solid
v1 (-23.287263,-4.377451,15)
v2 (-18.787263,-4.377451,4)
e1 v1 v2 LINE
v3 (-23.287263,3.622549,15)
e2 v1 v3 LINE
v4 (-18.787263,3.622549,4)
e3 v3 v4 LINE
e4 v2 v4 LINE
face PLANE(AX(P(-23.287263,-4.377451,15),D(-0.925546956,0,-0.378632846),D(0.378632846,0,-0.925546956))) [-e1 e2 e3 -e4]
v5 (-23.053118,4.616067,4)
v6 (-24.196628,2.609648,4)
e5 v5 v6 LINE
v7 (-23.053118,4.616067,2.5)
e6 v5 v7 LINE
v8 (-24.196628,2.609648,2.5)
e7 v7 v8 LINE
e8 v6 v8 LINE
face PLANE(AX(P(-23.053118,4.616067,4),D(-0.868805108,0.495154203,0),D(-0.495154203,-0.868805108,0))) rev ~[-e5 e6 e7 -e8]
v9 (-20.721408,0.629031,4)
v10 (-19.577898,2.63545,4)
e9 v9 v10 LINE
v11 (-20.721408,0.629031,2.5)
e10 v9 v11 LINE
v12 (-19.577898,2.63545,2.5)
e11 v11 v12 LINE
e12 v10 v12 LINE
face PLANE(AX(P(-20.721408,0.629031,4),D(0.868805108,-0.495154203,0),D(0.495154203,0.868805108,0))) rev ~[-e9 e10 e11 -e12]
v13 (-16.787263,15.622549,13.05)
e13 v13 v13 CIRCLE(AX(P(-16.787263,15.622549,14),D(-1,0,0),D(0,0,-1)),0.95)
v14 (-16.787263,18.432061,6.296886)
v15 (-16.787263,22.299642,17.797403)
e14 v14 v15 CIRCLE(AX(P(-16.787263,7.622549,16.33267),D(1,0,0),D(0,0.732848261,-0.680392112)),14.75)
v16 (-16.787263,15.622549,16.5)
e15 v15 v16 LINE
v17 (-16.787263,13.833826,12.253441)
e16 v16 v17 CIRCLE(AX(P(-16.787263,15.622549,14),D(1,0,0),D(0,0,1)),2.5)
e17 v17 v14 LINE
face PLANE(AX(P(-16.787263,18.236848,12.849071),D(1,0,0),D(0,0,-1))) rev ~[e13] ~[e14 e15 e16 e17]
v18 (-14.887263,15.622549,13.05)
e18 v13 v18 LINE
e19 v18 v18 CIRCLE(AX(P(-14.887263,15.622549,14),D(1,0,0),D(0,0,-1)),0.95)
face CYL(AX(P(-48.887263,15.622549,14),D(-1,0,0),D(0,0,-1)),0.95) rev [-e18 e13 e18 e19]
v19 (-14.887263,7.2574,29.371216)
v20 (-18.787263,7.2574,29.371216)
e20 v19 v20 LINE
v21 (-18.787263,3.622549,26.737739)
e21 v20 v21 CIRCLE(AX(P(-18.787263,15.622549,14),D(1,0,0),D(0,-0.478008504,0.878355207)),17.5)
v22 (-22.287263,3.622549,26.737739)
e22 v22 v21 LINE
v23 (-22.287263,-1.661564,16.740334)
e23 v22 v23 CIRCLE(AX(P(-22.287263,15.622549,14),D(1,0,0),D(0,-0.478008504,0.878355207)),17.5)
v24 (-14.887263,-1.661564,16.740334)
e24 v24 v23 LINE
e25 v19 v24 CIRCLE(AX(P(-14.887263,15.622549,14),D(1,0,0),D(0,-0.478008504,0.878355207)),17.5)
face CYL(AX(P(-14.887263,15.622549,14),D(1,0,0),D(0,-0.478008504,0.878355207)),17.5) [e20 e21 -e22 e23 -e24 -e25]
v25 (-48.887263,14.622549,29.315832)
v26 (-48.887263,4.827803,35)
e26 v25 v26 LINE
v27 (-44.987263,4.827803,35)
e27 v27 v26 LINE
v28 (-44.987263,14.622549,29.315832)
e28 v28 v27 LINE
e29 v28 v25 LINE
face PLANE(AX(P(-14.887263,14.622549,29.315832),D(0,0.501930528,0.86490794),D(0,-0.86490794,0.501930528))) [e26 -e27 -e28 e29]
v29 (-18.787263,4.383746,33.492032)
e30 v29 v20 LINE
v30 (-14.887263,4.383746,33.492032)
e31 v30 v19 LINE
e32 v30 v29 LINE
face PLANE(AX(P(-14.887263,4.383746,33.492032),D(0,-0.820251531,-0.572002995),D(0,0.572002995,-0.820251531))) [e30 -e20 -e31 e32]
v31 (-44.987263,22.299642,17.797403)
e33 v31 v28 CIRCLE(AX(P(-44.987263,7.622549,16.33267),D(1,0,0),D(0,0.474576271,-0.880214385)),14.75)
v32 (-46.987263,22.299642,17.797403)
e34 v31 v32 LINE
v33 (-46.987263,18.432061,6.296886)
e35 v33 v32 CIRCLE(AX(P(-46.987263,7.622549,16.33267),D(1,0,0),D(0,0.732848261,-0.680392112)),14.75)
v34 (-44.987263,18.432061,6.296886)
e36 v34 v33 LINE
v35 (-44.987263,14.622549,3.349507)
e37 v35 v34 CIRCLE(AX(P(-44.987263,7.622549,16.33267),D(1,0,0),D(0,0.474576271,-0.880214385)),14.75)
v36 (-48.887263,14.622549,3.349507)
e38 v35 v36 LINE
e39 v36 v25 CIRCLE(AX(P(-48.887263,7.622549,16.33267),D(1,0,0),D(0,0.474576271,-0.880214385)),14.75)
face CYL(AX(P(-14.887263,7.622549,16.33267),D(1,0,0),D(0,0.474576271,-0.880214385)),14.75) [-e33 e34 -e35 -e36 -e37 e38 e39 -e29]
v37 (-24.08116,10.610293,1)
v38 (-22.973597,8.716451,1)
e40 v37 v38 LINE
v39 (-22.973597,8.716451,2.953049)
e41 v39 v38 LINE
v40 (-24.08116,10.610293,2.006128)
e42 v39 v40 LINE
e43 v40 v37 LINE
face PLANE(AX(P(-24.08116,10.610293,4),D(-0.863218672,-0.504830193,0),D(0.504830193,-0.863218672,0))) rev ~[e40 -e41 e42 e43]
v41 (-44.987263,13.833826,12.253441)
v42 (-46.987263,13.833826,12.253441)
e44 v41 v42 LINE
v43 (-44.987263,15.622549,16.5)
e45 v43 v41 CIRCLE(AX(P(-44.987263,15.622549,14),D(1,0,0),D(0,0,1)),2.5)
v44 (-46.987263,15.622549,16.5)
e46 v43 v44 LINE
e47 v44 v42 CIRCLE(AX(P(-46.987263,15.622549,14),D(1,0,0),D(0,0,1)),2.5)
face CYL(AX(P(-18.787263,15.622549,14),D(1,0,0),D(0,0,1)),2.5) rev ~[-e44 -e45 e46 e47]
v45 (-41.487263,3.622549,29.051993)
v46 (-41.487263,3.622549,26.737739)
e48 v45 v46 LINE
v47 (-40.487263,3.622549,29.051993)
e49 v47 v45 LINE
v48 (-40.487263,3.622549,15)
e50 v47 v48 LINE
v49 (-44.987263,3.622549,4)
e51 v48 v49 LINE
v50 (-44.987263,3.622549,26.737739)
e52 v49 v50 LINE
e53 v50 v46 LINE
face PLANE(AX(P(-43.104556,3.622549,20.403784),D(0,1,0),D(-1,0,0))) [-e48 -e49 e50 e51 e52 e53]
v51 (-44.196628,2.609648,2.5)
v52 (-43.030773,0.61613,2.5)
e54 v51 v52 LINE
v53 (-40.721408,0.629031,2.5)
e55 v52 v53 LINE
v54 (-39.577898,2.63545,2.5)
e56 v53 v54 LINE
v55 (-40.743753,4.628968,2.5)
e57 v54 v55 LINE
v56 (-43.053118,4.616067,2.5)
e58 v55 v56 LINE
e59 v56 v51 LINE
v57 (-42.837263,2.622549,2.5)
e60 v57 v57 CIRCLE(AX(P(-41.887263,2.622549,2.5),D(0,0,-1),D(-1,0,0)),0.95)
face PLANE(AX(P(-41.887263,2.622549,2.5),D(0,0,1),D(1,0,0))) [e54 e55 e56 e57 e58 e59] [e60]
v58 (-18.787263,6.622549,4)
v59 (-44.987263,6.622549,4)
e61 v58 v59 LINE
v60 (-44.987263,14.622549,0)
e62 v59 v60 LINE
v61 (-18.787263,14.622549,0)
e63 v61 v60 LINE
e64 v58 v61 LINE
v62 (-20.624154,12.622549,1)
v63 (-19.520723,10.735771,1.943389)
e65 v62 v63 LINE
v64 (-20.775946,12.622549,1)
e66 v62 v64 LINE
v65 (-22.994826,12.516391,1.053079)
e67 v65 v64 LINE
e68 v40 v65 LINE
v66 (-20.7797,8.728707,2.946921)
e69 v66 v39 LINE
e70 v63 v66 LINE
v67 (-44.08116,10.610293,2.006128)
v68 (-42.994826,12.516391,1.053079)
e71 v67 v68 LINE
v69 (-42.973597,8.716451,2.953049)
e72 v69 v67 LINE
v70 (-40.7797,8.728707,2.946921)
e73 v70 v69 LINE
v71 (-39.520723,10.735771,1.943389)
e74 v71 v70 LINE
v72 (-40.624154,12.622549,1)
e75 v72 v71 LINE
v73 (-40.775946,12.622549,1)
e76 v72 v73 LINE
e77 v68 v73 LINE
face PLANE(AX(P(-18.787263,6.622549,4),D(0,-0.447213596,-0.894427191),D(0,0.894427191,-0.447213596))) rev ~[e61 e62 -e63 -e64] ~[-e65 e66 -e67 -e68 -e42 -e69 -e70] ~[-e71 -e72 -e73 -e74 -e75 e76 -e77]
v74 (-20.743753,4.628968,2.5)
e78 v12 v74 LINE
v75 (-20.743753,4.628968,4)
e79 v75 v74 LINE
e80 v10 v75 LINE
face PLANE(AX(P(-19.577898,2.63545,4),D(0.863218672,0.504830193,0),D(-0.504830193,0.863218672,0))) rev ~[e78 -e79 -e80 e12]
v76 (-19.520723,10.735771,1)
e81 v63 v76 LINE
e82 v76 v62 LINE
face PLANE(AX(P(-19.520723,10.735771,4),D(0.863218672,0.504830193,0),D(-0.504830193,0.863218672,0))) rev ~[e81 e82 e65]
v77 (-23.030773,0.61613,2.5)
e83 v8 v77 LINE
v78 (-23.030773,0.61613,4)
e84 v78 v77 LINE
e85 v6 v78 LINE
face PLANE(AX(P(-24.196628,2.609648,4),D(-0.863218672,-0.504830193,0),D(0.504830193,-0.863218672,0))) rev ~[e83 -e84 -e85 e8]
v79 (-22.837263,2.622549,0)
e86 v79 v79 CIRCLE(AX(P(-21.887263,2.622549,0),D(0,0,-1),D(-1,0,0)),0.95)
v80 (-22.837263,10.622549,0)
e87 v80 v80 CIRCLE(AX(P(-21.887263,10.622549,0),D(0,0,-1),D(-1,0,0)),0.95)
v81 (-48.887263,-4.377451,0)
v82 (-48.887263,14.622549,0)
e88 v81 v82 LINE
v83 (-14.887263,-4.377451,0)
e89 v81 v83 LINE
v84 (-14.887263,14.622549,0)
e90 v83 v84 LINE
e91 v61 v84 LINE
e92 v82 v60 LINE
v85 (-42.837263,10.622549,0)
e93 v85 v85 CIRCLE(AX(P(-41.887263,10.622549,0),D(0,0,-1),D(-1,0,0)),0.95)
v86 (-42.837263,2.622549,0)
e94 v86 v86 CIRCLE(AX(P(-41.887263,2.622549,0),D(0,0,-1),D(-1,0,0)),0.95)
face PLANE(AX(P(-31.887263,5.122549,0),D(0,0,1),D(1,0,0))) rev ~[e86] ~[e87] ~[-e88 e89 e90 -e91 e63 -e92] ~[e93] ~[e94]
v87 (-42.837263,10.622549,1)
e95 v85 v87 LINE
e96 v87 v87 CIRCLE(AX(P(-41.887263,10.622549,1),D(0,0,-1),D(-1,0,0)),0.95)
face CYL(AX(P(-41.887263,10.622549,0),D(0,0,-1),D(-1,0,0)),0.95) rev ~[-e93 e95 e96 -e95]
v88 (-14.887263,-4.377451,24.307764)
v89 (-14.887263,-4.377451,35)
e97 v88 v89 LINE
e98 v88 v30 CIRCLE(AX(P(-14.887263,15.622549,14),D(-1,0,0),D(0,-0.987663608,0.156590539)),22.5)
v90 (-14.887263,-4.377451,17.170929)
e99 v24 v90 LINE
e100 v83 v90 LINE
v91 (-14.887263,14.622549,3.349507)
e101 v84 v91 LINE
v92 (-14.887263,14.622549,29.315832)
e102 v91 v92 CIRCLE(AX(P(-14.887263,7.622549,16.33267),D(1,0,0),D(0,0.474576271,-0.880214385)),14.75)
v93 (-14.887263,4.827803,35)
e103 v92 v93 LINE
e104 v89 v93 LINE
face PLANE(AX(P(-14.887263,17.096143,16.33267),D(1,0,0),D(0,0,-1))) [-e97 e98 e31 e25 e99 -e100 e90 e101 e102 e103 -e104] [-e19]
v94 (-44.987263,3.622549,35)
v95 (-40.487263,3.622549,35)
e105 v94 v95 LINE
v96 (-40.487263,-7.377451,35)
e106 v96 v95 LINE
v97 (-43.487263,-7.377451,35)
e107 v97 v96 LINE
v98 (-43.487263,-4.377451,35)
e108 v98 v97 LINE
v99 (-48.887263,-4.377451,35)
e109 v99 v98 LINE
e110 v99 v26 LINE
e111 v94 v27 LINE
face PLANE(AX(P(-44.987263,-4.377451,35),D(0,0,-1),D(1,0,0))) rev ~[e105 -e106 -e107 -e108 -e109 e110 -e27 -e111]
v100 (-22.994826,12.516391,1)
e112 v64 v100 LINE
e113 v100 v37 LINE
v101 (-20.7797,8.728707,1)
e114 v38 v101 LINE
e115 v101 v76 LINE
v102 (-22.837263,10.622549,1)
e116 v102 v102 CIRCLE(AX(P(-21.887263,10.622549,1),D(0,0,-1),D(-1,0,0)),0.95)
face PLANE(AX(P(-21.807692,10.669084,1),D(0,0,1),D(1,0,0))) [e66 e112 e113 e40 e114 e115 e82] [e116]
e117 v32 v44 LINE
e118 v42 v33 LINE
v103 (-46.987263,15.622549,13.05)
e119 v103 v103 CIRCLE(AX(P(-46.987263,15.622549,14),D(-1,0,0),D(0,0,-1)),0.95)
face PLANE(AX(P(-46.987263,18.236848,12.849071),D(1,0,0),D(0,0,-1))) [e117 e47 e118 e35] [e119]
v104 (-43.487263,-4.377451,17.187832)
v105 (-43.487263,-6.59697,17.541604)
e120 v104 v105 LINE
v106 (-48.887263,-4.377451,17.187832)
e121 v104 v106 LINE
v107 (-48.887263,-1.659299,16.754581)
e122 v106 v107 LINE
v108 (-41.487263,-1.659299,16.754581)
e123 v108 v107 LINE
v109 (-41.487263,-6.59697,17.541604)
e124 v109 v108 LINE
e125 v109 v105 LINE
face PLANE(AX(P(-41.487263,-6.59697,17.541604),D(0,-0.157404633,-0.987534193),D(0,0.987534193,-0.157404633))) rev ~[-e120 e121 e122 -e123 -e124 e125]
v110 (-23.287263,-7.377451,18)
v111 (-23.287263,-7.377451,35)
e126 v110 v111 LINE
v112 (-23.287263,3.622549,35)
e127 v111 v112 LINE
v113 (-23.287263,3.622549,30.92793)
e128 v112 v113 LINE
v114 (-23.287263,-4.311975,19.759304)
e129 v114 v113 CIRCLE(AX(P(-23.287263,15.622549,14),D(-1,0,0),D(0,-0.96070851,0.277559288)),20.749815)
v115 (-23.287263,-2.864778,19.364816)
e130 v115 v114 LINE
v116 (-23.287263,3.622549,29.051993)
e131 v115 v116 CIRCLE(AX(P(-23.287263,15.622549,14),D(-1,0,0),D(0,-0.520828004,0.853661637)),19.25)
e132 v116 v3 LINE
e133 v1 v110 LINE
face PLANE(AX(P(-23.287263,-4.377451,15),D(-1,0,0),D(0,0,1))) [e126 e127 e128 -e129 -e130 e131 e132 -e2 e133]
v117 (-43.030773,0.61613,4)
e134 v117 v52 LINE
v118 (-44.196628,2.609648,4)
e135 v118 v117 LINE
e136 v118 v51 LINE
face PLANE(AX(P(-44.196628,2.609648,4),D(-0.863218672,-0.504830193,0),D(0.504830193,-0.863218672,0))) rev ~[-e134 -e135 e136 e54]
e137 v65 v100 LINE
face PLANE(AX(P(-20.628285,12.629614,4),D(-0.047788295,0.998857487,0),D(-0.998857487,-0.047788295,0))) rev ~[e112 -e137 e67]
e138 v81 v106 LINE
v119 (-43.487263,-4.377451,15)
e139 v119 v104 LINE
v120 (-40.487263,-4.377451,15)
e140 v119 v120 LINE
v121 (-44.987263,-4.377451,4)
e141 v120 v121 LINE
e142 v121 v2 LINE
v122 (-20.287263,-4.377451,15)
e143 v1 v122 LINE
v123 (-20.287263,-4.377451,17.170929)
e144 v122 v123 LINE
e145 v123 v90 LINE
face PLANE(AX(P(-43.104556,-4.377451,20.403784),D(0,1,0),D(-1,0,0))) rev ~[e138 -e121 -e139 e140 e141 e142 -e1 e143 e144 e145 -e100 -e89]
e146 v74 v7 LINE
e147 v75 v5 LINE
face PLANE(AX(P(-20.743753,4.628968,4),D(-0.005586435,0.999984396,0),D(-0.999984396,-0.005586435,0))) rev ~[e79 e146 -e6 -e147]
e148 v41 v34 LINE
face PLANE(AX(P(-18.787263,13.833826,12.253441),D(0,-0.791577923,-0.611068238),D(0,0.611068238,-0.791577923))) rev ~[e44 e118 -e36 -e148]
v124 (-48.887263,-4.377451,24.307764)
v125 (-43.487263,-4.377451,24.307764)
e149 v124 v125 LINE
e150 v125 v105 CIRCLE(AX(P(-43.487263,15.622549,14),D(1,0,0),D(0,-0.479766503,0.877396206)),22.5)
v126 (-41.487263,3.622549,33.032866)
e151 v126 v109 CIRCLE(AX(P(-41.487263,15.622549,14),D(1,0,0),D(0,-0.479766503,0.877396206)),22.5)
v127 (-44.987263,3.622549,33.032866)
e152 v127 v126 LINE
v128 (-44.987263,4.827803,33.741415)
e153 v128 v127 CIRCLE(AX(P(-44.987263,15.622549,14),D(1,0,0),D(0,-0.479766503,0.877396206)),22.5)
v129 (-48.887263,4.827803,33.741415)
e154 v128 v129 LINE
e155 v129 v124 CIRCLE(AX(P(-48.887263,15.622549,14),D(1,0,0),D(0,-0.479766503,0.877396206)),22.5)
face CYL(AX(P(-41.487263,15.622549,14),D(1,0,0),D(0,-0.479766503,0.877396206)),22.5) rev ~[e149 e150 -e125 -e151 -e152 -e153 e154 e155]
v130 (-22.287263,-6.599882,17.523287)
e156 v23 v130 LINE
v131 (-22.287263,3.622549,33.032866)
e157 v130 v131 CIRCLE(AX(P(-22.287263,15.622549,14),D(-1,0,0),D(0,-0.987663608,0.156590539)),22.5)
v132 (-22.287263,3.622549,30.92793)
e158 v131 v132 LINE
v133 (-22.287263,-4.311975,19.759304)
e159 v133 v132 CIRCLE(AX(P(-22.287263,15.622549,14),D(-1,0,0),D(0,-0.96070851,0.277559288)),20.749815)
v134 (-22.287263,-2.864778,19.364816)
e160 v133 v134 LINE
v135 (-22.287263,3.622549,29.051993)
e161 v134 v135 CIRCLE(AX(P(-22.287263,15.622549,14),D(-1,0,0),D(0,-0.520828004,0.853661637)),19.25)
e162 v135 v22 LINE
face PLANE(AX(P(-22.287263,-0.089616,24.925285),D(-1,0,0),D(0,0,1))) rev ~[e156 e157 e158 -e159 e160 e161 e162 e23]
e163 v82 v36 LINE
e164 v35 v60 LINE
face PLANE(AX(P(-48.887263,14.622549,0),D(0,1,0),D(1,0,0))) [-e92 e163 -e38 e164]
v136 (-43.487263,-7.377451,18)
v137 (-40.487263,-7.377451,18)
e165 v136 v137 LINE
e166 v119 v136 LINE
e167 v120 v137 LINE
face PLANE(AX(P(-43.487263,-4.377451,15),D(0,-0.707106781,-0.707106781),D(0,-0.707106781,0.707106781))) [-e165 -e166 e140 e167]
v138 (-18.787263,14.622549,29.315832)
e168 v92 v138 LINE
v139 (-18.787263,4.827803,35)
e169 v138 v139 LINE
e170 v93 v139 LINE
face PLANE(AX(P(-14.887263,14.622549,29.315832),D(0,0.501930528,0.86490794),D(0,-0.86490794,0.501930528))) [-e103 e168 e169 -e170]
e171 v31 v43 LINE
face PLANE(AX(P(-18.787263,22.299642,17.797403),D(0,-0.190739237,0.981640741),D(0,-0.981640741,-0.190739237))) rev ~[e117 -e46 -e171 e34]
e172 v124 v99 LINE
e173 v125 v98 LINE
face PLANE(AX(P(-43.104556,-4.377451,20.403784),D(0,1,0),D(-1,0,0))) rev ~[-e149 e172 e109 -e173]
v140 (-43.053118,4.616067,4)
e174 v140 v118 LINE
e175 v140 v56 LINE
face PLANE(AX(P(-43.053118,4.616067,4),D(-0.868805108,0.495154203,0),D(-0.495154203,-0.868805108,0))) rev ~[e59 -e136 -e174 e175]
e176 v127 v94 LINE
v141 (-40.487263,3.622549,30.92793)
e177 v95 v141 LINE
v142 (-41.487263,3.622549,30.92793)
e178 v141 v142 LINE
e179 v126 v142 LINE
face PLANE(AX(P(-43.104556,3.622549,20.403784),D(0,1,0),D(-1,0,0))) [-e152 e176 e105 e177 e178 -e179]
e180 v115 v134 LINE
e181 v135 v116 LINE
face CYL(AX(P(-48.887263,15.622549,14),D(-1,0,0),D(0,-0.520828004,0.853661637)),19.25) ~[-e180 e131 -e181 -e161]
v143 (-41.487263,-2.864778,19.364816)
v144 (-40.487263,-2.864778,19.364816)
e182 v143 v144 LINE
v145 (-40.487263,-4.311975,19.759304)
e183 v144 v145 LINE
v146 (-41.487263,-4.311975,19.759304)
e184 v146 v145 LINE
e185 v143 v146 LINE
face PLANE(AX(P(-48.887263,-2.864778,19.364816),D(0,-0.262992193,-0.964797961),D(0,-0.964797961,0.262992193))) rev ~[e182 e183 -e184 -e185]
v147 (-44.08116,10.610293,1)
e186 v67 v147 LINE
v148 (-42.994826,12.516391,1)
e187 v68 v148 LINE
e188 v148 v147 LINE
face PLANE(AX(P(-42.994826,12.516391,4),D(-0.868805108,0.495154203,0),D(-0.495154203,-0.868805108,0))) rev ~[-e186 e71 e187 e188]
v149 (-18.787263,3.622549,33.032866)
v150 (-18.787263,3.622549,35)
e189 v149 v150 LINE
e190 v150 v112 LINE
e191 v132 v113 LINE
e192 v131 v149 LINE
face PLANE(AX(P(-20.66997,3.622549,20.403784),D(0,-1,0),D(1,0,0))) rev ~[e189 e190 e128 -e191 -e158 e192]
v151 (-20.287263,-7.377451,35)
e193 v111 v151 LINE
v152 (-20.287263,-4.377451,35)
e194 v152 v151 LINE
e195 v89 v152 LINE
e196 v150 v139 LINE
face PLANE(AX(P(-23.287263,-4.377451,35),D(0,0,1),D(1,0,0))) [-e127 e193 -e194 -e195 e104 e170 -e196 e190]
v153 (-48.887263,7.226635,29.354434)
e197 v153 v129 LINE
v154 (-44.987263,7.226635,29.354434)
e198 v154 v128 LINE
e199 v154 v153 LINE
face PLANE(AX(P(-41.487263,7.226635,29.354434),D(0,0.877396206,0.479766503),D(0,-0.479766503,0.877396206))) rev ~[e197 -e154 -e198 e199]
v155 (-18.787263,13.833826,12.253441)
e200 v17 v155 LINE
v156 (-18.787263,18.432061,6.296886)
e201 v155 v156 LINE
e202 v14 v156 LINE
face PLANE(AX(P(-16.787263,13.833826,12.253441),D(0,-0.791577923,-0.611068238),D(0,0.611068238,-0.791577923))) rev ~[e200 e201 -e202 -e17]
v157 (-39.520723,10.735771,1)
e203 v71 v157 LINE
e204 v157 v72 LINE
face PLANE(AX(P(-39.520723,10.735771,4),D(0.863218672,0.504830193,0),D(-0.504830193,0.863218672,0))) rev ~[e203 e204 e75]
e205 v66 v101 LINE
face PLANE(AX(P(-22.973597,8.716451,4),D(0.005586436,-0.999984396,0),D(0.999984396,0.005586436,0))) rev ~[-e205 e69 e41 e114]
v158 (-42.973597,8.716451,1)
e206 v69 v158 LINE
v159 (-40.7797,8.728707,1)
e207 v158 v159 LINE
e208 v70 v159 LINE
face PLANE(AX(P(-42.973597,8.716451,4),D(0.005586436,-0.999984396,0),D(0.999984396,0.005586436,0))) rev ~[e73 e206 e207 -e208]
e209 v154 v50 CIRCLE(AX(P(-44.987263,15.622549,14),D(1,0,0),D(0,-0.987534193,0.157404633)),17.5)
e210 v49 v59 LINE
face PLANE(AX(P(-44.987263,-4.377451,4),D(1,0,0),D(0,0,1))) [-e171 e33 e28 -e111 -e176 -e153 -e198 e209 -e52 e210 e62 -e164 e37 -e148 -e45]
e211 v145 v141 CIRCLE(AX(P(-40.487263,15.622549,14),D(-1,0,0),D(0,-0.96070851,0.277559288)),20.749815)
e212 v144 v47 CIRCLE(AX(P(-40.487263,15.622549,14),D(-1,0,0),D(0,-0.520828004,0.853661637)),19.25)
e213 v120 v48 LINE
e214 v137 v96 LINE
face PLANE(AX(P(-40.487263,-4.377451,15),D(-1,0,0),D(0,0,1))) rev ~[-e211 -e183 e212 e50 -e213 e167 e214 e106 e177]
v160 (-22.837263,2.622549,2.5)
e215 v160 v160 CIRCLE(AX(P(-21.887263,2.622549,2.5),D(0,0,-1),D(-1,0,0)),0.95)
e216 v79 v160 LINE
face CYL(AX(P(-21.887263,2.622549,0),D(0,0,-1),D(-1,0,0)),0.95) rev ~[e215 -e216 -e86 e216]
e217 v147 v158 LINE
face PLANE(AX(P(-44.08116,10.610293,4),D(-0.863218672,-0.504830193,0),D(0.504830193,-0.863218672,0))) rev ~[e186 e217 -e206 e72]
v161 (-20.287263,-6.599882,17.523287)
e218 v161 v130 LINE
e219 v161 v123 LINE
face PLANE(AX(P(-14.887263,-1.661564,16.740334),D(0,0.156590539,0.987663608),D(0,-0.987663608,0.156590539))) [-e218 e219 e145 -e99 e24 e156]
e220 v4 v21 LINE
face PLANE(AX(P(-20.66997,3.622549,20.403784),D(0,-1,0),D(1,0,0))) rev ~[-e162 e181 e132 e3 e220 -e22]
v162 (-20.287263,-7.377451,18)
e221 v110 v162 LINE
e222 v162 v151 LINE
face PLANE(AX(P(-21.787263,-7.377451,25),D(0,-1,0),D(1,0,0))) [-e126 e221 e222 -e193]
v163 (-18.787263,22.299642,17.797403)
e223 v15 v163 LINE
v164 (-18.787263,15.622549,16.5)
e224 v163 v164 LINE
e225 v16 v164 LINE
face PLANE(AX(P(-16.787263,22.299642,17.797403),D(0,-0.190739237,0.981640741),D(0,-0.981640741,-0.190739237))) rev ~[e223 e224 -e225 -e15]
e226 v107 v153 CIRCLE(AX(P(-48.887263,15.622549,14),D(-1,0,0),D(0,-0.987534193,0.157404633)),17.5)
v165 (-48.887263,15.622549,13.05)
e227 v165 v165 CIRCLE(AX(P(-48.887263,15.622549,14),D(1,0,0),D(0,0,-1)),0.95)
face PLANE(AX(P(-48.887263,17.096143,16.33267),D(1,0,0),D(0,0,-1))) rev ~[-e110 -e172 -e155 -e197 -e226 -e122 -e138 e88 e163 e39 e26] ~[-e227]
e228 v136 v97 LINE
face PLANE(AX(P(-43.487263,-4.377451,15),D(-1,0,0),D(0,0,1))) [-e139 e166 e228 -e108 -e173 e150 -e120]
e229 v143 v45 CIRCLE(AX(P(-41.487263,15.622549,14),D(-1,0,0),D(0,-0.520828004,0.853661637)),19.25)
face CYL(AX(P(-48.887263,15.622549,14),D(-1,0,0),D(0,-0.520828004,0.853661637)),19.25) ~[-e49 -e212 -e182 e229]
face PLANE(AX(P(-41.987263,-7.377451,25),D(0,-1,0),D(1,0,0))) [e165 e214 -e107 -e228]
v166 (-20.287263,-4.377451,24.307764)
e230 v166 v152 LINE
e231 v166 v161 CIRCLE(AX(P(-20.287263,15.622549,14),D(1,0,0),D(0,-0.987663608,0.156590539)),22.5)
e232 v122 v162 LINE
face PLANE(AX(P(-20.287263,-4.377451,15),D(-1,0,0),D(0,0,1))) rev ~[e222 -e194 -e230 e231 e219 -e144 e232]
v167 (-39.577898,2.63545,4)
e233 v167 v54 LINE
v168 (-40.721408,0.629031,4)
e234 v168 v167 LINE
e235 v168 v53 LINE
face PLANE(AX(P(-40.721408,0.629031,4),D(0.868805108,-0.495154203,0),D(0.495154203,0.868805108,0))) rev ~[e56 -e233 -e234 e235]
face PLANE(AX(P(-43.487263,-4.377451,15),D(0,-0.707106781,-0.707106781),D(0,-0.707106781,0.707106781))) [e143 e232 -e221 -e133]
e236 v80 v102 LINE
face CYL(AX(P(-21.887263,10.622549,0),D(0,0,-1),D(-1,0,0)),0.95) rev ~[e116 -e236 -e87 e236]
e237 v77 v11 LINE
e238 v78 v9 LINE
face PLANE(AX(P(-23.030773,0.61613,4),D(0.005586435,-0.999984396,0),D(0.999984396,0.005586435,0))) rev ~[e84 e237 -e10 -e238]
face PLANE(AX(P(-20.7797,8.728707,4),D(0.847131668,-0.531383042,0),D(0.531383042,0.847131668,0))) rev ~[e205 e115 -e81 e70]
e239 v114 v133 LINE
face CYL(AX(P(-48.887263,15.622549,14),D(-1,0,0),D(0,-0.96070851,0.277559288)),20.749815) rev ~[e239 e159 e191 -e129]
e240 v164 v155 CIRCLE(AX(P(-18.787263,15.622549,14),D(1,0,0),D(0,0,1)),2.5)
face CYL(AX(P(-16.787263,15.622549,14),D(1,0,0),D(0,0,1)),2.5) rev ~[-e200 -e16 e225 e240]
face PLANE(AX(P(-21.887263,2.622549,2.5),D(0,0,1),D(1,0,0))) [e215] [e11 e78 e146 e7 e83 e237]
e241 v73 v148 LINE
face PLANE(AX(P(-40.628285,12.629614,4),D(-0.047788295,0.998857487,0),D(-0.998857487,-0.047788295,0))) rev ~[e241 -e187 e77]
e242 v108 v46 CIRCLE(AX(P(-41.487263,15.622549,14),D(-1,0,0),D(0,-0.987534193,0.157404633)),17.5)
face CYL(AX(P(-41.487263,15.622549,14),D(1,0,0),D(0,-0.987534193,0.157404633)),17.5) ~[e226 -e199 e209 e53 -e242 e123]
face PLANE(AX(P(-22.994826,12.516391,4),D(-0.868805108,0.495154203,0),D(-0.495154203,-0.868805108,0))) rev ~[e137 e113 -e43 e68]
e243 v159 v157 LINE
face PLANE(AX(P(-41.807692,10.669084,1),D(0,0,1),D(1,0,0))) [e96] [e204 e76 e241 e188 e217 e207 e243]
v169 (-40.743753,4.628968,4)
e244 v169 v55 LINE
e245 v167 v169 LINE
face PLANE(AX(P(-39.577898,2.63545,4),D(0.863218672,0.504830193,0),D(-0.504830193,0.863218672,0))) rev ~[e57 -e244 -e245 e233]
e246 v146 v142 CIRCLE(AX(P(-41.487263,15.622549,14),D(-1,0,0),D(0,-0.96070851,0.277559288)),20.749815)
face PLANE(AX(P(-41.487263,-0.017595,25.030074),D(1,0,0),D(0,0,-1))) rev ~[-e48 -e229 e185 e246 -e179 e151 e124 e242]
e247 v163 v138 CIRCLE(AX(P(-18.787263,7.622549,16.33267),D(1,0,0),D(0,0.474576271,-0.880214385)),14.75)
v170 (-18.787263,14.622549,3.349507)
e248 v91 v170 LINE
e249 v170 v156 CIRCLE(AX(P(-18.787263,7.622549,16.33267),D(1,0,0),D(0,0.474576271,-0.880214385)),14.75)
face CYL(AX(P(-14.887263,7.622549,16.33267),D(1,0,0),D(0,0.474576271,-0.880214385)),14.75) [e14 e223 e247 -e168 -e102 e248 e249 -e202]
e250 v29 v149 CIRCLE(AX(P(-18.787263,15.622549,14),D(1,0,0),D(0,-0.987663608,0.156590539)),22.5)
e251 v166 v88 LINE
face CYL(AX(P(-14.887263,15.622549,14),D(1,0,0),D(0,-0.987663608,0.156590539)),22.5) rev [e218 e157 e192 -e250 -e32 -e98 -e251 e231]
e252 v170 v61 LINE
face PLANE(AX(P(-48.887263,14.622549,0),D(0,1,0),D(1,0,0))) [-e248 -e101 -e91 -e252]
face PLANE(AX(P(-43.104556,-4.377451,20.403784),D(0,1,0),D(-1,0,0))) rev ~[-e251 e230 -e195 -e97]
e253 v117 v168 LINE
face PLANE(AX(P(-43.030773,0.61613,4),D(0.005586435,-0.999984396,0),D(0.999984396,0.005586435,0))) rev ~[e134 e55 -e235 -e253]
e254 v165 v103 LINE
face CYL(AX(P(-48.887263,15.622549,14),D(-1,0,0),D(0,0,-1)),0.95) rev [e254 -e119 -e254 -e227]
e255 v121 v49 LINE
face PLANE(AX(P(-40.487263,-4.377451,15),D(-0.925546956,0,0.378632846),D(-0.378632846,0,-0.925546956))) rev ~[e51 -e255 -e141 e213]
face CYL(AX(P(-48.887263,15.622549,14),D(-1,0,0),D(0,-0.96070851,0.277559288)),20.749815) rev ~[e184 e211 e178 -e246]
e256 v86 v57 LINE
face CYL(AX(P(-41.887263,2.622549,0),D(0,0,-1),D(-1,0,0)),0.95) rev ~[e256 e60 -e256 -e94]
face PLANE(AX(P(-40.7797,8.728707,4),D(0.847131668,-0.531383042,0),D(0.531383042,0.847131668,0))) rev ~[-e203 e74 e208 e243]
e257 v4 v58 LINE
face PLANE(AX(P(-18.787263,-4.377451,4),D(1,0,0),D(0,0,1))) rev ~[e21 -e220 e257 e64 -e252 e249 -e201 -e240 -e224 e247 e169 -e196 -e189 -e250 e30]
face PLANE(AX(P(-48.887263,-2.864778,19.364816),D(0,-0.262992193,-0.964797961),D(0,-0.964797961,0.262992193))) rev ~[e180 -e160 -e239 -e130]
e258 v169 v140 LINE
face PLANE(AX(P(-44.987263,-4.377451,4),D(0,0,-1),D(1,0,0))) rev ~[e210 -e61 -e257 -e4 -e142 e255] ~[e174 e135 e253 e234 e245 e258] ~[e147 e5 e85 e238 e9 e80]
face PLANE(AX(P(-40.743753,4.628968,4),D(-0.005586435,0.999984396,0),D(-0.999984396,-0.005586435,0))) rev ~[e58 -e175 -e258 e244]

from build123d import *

# Parameters (mm, degrees)
CROQUIS1_W              = 34
CROQUIS1_H              = 19
SALIENTE_EXTRUIR1_DEPTH = 35
CROQUIS2_W              = 26.2
CROQUIS2_H              = 31
CORTAR_EXTRUIR1_DEPTH   = 25
CORTAR_EXTRUIR3_DEPTH   = 26.2
SALIENTE_EXTRUIR2_DEPTH = 34
CROQUIS10_W             = 26.2
CROQUIS10_H             = 25.966324345
CORTAR_EXTRUIR4_DEPTH   = 10
CROQUIS18_R             = 0.95
CORTAR_EXTRUIR11_DEPTH  = 4
CORTAR_EXTRUIR12_DEPTH  = 1.5
CORTAR_EXTRUIR13_DEPTH  = 3
CORTAR_EXTRUIR14_START  = -34
CROQUIS21_R             = 0.95
CORTAR_EXTRUIR14_DEPTH  = 34
SALIENTE_EXTRUIR3_DEPTH = 8
CORTAR_EXTRUIR16_START  = -34
CORTAR_EXTRUIR16_DEPTH  = 34
CROQUIS25_W             = 3
CROQUIS25_H             = 20
SALIENTE_EXTRUIR4_DEPTH = 3
CORTAR_EXTRUIR17_START  = -23.2
CORTAR_EXTRUIR17_DEPTH  = 23.2
CORTAR_EXTRUIR18_DEPTH  = 7.4
CORTAR_EXTRUIR19_START  = -7.4
CORTAR_EXTRUIR19_DEPTH  = 7.4
CORTAR_EXTRUIR20_START  = -2
CORTAR_EXTRUIR20_DEPTH  = 2
CORTAR_EXTRUIR21_DEPTH  = 28.2
CORTAR_EXTRUIR22_START  = -34
CORTAR_EXTRUIR22_DEPTH  = 34


with BuildPart() as part:
    # Croquis1 → Saliente-Extruir1 (new body)
    with BuildSketch(Plane.XY):
        with Locations((-31.887263086, 5.12254902)):
            Rectangle(CROQUIS1_W, CROQUIS1_H)
    extrude(amount=SALIENTE_EXTRUIR1_DEPTH)

    # Croquis2 → Cortar-Extruir1 (cut)
    with BuildSketch(Plane.XZ.offset(4.37745098)):
        with Locations((-31.887263086, 19.5)):
            Rectangle(CROQUIS2_W, CROQUIS2_H)
    extrude(amount=-CORTAR_EXTRUIR1_DEPTH, mode=Mode.SUBTRACT)

    # Croquis4 → Cortar-Extruir3 (cut)
    with BuildSketch(Plane.ZY.offset(18.787263086)):
        Polygon((4, 14.62254902), (4, 6.62254902), (0, 14.62254902), align=None)
    extrude(amount=CORTAR_EXTRUIR3_DEPTH, mode=Mode.SUBTRACT)

    # Croquis9 → Saliente-Extruir2 (add)
    with BuildSketch(Plane(origin=(-14.887263086, 0, 0), x_dir=(0, 0, -1), z_dir=(1, 0, 0))):
        with BuildLine():
            Line((-29.315831827, 14.62254902), (-3.349507482, 14.62254902))
            ThreePointArc((-3.349507482, 14.62254902), (-16.332669655, 22.37254902), (-29.315831827, 14.62254902))
        make_face()
    extrude(amount=-SALIENTE_EXTRUIR2_DEPTH)

    # Croquis10 → Cortar-Extruir4 (cut)
    with BuildSketch(Plane.XZ.offset(-14.62254902)):
        with Locations((-31.887263086, 16.332669655)):
            Rectangle(CROQUIS10_W, CROQUIS10_H)
    extrude(amount=-CORTAR_EXTRUIR4_DEPTH, mode=Mode.SUBTRACT)

    # Croquis18 → Cortar-Extruir11 (cut)
    with BuildSketch(Plane(origin=(0, 0, 0), x_dir=(-1, 0, 0), z_dir=(0, 0, -1))):
        with Locations((41.887263086, 2.62254902)):
            Circle(CROQUIS18_R)
        with Locations((21.887263086, 2.62254902)):
            Circle(CROQUIS18_R)
        with Locations((21.887263086, 10.62254902)):
            Circle(CROQUIS18_R)
        with Locations((41.887263086, 10.62254902)):
            Circle(CROQUIS18_R)
    extrude(amount=-CORTAR_EXTRUIR11_DEPTH, mode=Mode.SUBTRACT)

    # Croquis19 → Cortar-Extruir12 (cut)
    with BuildSketch(Plane.XY.offset(4)):
        Polygon((-43.030772734, 0.616129568), (-40.721407694, 0.629030888), (-39.577898045, 2.63545034), (-40.743753437, 4.628968471), (-43.053118477, 4.616067151), (-44.196628126, 2.609647699), align=None)
        Polygon((-23.030772734, 0.616129568), (-20.721407694, 0.629030888), (-19.577898045, 2.63545034), (-20.743753437, 4.628968471), (-23.053118477, 4.616067151), (-24.196628126, 2.609647699), align=None)
    extrude(amount=-CORTAR_EXTRUIR12_DEPTH, mode=Mode.SUBTRACT)

    # Croquis20 → Cortar-Extruir13 (cut)
    with BuildSketch(Plane.XY.offset(4)):
        Polygon((-44.081159874, 10.610292765), (-42.973597252, 8.71645054), (-40.779700463, 8.728706795), (-39.520722563, 10.735771313), (-40.628285185, 12.629613538), (-42.994825708, 12.516391244), align=None)
        Polygon((-24.081159874, 10.610292765), (-22.973597252, 8.71645054), (-20.779700463, 8.728706795), (-19.520722563, 10.735771313), (-20.628285185, 12.629613538), (-22.994825708, 12.516391244), align=None)
    extrude(amount=-CORTAR_EXTRUIR13_DEPTH, mode=Mode.SUBTRACT)

    # Croquis21 → Cortar-Extruir14 (cut)
    with BuildSketch(Plane(origin=(-14.887263086, 0, 0), x_dir=(0, 0, -1), z_dir=(1, 0, 0)).offset(CORTAR_EXTRUIR14_START)):
        with Locations((-14, 15.62254902)):
            Circle(CROQUIS21_R)
    extrude(amount=CORTAR_EXTRUIR14_DEPTH, mode=Mode.SUBTRACT)

    # Croquis23 → Saliente-Extruir3 (add)
    with BuildSketch(Plane.XZ.offset(4.37745098)):
        Polygon((-44.987263086, 35), (-40.487263086, 35), (-40.487263086, 15), (-44.987263086, 4), align=None)
        Polygon((-18.787263086, 35), (-23.287263086, 35), (-23.287263086, 15), (-18.787263086, 4), align=None)
    extrude(amount=-SALIENTE_EXTRUIR3_DEPTH)

    # Croquis24 → Cortar-Extruir16 (cut)
    with BuildSketch(Plane(origin=(-14.887263086, 0, 0), x_dir=(0, 0, -1), z_dir=(1, 0, 0)).offset(CORTAR_EXTRUIR16_START)):
        with BuildLine():
            Line((-19.364815558, -2.86477783), (-19.759303848, -4.311974772))
            ThreePointArc((-19.759303848, -4.311974772), (-26.555897405, -0.897265142), (-31.665347016, 4.737222456))
            Line((-31.665347016, 4.737222456), (-30.432986509, 5.596609942))
            ThreePointArc((-30.432986509, 5.596609942), (-25.6912281, 0.329488976), (-19.364815558, -2.86477783))
        make_face()
    extrude(amount=CORTAR_EXTRUIR16_DEPTH, mode=Mode.SUBTRACT)

    # Croquis25 → Saliente-Extruir4 (add)
    with BuildSketch(Plane.XZ.offset(4.37745098)):
        with Locations((-21.787263086, 25)):
            Rectangle(CROQUIS25_W, CROQUIS25_H)
        with Locations((-41.987263086, 25)):
            Rectangle(CROQUIS25_W, CROQUIS25_H)
    extrude(amount=SALIENTE_EXTRUIR4_DEPTH)

    # Croquis26 → Cortar-Extruir17 (cut)
    with BuildSketch(Plane(origin=(-20.287263086, 0, 0), x_dir=(0, 0, -1), z_dir=(1, 0, 0)).offset(CORTAR_EXTRUIR17_START)):
        Polygon((-18, -7.37745098), (-15, -7.37745098), (-15, -4.37745098), align=None)
    extrude(amount=CORTAR_EXTRUIR17_DEPTH, mode=Mode.SUBTRACT)

    # Croquis27 → Cortar-Extruir18 (cut)
    with BuildSketch(Plane(origin=(-14.887263086, 0, 0), x_dir=(0, 0, -1), z_dir=(1, 0, 0))):
        with BuildLine():
            Line((-16.740334426, -1.661564126), (-17.523287119, -6.599882168))
            ThreePointArc((-17.523287119, -6.599882168), (-26.750931424, -2.915621004), (-33.492032026, 4.383746258))
            Line((-33.492032026, 4.383746258), (-29.371216121, 7.25740019))
            ThreePointArc((-29.371216121, 7.25740019), (-24.094258117, 1.327236743), (-16.740334426, -1.661564126))
        make_face()
    extrude(amount=-CORTAR_EXTRUIR18_DEPTH, mode=Mode.SUBTRACT)

    # Croquis28 → Cortar-Extruir19 (cut)
    with BuildSketch(Plane.ZY.offset(48.887263086).offset(CORTAR_EXTRUIR19_START)):
        with BuildLine():
            Line((29.35443361, 7.226635221), (33.741414641, 4.827802707))
            ThreePointArc((33.741414641, 4.827802707), (26.967501757, -2.764780808), (17.541604251, -6.596970312))
            Line((17.541604251, -6.596970312), (16.754581084, -1.659299349))
            ThreePointArc((16.754581084, -1.659299349), (24.0858347, 1.321292487), (29.35443361, 7.226635221))
        make_face()
    extrude(amount=CORTAR_EXTRUIR19_DEPTH, mode=Mode.SUBTRACT)

    # Croquis29 → Cortar-Extruir20 (cut)
    with BuildSketch(Plane.ZY.offset(18.787263086).offset(CORTAR_EXTRUIR20_START)):
        with BuildLine():
            Line((17.797402962, 22.299641931), (16.5, 15.62254902))
            ThreePointArc((16.5, 15.62254902), (14.970464446, 13.318596164), (12.253440993, 13.833825555))
            Line((12.253440993, 13.833825555), (6.296886003, 18.432060872))
            ThreePointArc((6.296886003, 18.432060872), (11.631045274, 21.603150873), (17.797402962, 22.299641931))
        make_face()
    extrude(amount=CORTAR_EXTRUIR20_DEPTH, mode=Mode.SUBTRACT)

    # Croquis29<2> → Cortar-Extruir21 (cut)
    with BuildSketch(Plane.ZY.offset(18.787263086)):
        with BuildLine():
            Line((17.797402962, 22.299641931), (16.5, 15.62254902))
            ThreePointArc((16.5, 15.62254902), (14.970464446, 13.318596164), (12.253440993, 13.833825555))
            Line((12.253440993, 13.833825555), (6.296886003, 18.432060872))
            ThreePointArc((6.296886003, 18.432060872), (11.631045274, 21.603150873), (17.797402962, 22.299641931))
        make_face()
    extrude(amount=CORTAR_EXTRUIR21_DEPTH, mode=Mode.SUBTRACT)

    # Croquis30 → Cortar-Extruir22 (cut)
    with BuildSketch(Plane.ZY.offset(48.887263086).offset(CORTAR_EXTRUIR22_START)):
        Polygon((29.315831827, 14.62254902), (35, 4.827802707), (35, 14.62254902), align=None)
    extrude(amount=CORTAR_EXTRUIR22_DEPTH, mode=Mode.SUBTRACT)


solid = part.part
